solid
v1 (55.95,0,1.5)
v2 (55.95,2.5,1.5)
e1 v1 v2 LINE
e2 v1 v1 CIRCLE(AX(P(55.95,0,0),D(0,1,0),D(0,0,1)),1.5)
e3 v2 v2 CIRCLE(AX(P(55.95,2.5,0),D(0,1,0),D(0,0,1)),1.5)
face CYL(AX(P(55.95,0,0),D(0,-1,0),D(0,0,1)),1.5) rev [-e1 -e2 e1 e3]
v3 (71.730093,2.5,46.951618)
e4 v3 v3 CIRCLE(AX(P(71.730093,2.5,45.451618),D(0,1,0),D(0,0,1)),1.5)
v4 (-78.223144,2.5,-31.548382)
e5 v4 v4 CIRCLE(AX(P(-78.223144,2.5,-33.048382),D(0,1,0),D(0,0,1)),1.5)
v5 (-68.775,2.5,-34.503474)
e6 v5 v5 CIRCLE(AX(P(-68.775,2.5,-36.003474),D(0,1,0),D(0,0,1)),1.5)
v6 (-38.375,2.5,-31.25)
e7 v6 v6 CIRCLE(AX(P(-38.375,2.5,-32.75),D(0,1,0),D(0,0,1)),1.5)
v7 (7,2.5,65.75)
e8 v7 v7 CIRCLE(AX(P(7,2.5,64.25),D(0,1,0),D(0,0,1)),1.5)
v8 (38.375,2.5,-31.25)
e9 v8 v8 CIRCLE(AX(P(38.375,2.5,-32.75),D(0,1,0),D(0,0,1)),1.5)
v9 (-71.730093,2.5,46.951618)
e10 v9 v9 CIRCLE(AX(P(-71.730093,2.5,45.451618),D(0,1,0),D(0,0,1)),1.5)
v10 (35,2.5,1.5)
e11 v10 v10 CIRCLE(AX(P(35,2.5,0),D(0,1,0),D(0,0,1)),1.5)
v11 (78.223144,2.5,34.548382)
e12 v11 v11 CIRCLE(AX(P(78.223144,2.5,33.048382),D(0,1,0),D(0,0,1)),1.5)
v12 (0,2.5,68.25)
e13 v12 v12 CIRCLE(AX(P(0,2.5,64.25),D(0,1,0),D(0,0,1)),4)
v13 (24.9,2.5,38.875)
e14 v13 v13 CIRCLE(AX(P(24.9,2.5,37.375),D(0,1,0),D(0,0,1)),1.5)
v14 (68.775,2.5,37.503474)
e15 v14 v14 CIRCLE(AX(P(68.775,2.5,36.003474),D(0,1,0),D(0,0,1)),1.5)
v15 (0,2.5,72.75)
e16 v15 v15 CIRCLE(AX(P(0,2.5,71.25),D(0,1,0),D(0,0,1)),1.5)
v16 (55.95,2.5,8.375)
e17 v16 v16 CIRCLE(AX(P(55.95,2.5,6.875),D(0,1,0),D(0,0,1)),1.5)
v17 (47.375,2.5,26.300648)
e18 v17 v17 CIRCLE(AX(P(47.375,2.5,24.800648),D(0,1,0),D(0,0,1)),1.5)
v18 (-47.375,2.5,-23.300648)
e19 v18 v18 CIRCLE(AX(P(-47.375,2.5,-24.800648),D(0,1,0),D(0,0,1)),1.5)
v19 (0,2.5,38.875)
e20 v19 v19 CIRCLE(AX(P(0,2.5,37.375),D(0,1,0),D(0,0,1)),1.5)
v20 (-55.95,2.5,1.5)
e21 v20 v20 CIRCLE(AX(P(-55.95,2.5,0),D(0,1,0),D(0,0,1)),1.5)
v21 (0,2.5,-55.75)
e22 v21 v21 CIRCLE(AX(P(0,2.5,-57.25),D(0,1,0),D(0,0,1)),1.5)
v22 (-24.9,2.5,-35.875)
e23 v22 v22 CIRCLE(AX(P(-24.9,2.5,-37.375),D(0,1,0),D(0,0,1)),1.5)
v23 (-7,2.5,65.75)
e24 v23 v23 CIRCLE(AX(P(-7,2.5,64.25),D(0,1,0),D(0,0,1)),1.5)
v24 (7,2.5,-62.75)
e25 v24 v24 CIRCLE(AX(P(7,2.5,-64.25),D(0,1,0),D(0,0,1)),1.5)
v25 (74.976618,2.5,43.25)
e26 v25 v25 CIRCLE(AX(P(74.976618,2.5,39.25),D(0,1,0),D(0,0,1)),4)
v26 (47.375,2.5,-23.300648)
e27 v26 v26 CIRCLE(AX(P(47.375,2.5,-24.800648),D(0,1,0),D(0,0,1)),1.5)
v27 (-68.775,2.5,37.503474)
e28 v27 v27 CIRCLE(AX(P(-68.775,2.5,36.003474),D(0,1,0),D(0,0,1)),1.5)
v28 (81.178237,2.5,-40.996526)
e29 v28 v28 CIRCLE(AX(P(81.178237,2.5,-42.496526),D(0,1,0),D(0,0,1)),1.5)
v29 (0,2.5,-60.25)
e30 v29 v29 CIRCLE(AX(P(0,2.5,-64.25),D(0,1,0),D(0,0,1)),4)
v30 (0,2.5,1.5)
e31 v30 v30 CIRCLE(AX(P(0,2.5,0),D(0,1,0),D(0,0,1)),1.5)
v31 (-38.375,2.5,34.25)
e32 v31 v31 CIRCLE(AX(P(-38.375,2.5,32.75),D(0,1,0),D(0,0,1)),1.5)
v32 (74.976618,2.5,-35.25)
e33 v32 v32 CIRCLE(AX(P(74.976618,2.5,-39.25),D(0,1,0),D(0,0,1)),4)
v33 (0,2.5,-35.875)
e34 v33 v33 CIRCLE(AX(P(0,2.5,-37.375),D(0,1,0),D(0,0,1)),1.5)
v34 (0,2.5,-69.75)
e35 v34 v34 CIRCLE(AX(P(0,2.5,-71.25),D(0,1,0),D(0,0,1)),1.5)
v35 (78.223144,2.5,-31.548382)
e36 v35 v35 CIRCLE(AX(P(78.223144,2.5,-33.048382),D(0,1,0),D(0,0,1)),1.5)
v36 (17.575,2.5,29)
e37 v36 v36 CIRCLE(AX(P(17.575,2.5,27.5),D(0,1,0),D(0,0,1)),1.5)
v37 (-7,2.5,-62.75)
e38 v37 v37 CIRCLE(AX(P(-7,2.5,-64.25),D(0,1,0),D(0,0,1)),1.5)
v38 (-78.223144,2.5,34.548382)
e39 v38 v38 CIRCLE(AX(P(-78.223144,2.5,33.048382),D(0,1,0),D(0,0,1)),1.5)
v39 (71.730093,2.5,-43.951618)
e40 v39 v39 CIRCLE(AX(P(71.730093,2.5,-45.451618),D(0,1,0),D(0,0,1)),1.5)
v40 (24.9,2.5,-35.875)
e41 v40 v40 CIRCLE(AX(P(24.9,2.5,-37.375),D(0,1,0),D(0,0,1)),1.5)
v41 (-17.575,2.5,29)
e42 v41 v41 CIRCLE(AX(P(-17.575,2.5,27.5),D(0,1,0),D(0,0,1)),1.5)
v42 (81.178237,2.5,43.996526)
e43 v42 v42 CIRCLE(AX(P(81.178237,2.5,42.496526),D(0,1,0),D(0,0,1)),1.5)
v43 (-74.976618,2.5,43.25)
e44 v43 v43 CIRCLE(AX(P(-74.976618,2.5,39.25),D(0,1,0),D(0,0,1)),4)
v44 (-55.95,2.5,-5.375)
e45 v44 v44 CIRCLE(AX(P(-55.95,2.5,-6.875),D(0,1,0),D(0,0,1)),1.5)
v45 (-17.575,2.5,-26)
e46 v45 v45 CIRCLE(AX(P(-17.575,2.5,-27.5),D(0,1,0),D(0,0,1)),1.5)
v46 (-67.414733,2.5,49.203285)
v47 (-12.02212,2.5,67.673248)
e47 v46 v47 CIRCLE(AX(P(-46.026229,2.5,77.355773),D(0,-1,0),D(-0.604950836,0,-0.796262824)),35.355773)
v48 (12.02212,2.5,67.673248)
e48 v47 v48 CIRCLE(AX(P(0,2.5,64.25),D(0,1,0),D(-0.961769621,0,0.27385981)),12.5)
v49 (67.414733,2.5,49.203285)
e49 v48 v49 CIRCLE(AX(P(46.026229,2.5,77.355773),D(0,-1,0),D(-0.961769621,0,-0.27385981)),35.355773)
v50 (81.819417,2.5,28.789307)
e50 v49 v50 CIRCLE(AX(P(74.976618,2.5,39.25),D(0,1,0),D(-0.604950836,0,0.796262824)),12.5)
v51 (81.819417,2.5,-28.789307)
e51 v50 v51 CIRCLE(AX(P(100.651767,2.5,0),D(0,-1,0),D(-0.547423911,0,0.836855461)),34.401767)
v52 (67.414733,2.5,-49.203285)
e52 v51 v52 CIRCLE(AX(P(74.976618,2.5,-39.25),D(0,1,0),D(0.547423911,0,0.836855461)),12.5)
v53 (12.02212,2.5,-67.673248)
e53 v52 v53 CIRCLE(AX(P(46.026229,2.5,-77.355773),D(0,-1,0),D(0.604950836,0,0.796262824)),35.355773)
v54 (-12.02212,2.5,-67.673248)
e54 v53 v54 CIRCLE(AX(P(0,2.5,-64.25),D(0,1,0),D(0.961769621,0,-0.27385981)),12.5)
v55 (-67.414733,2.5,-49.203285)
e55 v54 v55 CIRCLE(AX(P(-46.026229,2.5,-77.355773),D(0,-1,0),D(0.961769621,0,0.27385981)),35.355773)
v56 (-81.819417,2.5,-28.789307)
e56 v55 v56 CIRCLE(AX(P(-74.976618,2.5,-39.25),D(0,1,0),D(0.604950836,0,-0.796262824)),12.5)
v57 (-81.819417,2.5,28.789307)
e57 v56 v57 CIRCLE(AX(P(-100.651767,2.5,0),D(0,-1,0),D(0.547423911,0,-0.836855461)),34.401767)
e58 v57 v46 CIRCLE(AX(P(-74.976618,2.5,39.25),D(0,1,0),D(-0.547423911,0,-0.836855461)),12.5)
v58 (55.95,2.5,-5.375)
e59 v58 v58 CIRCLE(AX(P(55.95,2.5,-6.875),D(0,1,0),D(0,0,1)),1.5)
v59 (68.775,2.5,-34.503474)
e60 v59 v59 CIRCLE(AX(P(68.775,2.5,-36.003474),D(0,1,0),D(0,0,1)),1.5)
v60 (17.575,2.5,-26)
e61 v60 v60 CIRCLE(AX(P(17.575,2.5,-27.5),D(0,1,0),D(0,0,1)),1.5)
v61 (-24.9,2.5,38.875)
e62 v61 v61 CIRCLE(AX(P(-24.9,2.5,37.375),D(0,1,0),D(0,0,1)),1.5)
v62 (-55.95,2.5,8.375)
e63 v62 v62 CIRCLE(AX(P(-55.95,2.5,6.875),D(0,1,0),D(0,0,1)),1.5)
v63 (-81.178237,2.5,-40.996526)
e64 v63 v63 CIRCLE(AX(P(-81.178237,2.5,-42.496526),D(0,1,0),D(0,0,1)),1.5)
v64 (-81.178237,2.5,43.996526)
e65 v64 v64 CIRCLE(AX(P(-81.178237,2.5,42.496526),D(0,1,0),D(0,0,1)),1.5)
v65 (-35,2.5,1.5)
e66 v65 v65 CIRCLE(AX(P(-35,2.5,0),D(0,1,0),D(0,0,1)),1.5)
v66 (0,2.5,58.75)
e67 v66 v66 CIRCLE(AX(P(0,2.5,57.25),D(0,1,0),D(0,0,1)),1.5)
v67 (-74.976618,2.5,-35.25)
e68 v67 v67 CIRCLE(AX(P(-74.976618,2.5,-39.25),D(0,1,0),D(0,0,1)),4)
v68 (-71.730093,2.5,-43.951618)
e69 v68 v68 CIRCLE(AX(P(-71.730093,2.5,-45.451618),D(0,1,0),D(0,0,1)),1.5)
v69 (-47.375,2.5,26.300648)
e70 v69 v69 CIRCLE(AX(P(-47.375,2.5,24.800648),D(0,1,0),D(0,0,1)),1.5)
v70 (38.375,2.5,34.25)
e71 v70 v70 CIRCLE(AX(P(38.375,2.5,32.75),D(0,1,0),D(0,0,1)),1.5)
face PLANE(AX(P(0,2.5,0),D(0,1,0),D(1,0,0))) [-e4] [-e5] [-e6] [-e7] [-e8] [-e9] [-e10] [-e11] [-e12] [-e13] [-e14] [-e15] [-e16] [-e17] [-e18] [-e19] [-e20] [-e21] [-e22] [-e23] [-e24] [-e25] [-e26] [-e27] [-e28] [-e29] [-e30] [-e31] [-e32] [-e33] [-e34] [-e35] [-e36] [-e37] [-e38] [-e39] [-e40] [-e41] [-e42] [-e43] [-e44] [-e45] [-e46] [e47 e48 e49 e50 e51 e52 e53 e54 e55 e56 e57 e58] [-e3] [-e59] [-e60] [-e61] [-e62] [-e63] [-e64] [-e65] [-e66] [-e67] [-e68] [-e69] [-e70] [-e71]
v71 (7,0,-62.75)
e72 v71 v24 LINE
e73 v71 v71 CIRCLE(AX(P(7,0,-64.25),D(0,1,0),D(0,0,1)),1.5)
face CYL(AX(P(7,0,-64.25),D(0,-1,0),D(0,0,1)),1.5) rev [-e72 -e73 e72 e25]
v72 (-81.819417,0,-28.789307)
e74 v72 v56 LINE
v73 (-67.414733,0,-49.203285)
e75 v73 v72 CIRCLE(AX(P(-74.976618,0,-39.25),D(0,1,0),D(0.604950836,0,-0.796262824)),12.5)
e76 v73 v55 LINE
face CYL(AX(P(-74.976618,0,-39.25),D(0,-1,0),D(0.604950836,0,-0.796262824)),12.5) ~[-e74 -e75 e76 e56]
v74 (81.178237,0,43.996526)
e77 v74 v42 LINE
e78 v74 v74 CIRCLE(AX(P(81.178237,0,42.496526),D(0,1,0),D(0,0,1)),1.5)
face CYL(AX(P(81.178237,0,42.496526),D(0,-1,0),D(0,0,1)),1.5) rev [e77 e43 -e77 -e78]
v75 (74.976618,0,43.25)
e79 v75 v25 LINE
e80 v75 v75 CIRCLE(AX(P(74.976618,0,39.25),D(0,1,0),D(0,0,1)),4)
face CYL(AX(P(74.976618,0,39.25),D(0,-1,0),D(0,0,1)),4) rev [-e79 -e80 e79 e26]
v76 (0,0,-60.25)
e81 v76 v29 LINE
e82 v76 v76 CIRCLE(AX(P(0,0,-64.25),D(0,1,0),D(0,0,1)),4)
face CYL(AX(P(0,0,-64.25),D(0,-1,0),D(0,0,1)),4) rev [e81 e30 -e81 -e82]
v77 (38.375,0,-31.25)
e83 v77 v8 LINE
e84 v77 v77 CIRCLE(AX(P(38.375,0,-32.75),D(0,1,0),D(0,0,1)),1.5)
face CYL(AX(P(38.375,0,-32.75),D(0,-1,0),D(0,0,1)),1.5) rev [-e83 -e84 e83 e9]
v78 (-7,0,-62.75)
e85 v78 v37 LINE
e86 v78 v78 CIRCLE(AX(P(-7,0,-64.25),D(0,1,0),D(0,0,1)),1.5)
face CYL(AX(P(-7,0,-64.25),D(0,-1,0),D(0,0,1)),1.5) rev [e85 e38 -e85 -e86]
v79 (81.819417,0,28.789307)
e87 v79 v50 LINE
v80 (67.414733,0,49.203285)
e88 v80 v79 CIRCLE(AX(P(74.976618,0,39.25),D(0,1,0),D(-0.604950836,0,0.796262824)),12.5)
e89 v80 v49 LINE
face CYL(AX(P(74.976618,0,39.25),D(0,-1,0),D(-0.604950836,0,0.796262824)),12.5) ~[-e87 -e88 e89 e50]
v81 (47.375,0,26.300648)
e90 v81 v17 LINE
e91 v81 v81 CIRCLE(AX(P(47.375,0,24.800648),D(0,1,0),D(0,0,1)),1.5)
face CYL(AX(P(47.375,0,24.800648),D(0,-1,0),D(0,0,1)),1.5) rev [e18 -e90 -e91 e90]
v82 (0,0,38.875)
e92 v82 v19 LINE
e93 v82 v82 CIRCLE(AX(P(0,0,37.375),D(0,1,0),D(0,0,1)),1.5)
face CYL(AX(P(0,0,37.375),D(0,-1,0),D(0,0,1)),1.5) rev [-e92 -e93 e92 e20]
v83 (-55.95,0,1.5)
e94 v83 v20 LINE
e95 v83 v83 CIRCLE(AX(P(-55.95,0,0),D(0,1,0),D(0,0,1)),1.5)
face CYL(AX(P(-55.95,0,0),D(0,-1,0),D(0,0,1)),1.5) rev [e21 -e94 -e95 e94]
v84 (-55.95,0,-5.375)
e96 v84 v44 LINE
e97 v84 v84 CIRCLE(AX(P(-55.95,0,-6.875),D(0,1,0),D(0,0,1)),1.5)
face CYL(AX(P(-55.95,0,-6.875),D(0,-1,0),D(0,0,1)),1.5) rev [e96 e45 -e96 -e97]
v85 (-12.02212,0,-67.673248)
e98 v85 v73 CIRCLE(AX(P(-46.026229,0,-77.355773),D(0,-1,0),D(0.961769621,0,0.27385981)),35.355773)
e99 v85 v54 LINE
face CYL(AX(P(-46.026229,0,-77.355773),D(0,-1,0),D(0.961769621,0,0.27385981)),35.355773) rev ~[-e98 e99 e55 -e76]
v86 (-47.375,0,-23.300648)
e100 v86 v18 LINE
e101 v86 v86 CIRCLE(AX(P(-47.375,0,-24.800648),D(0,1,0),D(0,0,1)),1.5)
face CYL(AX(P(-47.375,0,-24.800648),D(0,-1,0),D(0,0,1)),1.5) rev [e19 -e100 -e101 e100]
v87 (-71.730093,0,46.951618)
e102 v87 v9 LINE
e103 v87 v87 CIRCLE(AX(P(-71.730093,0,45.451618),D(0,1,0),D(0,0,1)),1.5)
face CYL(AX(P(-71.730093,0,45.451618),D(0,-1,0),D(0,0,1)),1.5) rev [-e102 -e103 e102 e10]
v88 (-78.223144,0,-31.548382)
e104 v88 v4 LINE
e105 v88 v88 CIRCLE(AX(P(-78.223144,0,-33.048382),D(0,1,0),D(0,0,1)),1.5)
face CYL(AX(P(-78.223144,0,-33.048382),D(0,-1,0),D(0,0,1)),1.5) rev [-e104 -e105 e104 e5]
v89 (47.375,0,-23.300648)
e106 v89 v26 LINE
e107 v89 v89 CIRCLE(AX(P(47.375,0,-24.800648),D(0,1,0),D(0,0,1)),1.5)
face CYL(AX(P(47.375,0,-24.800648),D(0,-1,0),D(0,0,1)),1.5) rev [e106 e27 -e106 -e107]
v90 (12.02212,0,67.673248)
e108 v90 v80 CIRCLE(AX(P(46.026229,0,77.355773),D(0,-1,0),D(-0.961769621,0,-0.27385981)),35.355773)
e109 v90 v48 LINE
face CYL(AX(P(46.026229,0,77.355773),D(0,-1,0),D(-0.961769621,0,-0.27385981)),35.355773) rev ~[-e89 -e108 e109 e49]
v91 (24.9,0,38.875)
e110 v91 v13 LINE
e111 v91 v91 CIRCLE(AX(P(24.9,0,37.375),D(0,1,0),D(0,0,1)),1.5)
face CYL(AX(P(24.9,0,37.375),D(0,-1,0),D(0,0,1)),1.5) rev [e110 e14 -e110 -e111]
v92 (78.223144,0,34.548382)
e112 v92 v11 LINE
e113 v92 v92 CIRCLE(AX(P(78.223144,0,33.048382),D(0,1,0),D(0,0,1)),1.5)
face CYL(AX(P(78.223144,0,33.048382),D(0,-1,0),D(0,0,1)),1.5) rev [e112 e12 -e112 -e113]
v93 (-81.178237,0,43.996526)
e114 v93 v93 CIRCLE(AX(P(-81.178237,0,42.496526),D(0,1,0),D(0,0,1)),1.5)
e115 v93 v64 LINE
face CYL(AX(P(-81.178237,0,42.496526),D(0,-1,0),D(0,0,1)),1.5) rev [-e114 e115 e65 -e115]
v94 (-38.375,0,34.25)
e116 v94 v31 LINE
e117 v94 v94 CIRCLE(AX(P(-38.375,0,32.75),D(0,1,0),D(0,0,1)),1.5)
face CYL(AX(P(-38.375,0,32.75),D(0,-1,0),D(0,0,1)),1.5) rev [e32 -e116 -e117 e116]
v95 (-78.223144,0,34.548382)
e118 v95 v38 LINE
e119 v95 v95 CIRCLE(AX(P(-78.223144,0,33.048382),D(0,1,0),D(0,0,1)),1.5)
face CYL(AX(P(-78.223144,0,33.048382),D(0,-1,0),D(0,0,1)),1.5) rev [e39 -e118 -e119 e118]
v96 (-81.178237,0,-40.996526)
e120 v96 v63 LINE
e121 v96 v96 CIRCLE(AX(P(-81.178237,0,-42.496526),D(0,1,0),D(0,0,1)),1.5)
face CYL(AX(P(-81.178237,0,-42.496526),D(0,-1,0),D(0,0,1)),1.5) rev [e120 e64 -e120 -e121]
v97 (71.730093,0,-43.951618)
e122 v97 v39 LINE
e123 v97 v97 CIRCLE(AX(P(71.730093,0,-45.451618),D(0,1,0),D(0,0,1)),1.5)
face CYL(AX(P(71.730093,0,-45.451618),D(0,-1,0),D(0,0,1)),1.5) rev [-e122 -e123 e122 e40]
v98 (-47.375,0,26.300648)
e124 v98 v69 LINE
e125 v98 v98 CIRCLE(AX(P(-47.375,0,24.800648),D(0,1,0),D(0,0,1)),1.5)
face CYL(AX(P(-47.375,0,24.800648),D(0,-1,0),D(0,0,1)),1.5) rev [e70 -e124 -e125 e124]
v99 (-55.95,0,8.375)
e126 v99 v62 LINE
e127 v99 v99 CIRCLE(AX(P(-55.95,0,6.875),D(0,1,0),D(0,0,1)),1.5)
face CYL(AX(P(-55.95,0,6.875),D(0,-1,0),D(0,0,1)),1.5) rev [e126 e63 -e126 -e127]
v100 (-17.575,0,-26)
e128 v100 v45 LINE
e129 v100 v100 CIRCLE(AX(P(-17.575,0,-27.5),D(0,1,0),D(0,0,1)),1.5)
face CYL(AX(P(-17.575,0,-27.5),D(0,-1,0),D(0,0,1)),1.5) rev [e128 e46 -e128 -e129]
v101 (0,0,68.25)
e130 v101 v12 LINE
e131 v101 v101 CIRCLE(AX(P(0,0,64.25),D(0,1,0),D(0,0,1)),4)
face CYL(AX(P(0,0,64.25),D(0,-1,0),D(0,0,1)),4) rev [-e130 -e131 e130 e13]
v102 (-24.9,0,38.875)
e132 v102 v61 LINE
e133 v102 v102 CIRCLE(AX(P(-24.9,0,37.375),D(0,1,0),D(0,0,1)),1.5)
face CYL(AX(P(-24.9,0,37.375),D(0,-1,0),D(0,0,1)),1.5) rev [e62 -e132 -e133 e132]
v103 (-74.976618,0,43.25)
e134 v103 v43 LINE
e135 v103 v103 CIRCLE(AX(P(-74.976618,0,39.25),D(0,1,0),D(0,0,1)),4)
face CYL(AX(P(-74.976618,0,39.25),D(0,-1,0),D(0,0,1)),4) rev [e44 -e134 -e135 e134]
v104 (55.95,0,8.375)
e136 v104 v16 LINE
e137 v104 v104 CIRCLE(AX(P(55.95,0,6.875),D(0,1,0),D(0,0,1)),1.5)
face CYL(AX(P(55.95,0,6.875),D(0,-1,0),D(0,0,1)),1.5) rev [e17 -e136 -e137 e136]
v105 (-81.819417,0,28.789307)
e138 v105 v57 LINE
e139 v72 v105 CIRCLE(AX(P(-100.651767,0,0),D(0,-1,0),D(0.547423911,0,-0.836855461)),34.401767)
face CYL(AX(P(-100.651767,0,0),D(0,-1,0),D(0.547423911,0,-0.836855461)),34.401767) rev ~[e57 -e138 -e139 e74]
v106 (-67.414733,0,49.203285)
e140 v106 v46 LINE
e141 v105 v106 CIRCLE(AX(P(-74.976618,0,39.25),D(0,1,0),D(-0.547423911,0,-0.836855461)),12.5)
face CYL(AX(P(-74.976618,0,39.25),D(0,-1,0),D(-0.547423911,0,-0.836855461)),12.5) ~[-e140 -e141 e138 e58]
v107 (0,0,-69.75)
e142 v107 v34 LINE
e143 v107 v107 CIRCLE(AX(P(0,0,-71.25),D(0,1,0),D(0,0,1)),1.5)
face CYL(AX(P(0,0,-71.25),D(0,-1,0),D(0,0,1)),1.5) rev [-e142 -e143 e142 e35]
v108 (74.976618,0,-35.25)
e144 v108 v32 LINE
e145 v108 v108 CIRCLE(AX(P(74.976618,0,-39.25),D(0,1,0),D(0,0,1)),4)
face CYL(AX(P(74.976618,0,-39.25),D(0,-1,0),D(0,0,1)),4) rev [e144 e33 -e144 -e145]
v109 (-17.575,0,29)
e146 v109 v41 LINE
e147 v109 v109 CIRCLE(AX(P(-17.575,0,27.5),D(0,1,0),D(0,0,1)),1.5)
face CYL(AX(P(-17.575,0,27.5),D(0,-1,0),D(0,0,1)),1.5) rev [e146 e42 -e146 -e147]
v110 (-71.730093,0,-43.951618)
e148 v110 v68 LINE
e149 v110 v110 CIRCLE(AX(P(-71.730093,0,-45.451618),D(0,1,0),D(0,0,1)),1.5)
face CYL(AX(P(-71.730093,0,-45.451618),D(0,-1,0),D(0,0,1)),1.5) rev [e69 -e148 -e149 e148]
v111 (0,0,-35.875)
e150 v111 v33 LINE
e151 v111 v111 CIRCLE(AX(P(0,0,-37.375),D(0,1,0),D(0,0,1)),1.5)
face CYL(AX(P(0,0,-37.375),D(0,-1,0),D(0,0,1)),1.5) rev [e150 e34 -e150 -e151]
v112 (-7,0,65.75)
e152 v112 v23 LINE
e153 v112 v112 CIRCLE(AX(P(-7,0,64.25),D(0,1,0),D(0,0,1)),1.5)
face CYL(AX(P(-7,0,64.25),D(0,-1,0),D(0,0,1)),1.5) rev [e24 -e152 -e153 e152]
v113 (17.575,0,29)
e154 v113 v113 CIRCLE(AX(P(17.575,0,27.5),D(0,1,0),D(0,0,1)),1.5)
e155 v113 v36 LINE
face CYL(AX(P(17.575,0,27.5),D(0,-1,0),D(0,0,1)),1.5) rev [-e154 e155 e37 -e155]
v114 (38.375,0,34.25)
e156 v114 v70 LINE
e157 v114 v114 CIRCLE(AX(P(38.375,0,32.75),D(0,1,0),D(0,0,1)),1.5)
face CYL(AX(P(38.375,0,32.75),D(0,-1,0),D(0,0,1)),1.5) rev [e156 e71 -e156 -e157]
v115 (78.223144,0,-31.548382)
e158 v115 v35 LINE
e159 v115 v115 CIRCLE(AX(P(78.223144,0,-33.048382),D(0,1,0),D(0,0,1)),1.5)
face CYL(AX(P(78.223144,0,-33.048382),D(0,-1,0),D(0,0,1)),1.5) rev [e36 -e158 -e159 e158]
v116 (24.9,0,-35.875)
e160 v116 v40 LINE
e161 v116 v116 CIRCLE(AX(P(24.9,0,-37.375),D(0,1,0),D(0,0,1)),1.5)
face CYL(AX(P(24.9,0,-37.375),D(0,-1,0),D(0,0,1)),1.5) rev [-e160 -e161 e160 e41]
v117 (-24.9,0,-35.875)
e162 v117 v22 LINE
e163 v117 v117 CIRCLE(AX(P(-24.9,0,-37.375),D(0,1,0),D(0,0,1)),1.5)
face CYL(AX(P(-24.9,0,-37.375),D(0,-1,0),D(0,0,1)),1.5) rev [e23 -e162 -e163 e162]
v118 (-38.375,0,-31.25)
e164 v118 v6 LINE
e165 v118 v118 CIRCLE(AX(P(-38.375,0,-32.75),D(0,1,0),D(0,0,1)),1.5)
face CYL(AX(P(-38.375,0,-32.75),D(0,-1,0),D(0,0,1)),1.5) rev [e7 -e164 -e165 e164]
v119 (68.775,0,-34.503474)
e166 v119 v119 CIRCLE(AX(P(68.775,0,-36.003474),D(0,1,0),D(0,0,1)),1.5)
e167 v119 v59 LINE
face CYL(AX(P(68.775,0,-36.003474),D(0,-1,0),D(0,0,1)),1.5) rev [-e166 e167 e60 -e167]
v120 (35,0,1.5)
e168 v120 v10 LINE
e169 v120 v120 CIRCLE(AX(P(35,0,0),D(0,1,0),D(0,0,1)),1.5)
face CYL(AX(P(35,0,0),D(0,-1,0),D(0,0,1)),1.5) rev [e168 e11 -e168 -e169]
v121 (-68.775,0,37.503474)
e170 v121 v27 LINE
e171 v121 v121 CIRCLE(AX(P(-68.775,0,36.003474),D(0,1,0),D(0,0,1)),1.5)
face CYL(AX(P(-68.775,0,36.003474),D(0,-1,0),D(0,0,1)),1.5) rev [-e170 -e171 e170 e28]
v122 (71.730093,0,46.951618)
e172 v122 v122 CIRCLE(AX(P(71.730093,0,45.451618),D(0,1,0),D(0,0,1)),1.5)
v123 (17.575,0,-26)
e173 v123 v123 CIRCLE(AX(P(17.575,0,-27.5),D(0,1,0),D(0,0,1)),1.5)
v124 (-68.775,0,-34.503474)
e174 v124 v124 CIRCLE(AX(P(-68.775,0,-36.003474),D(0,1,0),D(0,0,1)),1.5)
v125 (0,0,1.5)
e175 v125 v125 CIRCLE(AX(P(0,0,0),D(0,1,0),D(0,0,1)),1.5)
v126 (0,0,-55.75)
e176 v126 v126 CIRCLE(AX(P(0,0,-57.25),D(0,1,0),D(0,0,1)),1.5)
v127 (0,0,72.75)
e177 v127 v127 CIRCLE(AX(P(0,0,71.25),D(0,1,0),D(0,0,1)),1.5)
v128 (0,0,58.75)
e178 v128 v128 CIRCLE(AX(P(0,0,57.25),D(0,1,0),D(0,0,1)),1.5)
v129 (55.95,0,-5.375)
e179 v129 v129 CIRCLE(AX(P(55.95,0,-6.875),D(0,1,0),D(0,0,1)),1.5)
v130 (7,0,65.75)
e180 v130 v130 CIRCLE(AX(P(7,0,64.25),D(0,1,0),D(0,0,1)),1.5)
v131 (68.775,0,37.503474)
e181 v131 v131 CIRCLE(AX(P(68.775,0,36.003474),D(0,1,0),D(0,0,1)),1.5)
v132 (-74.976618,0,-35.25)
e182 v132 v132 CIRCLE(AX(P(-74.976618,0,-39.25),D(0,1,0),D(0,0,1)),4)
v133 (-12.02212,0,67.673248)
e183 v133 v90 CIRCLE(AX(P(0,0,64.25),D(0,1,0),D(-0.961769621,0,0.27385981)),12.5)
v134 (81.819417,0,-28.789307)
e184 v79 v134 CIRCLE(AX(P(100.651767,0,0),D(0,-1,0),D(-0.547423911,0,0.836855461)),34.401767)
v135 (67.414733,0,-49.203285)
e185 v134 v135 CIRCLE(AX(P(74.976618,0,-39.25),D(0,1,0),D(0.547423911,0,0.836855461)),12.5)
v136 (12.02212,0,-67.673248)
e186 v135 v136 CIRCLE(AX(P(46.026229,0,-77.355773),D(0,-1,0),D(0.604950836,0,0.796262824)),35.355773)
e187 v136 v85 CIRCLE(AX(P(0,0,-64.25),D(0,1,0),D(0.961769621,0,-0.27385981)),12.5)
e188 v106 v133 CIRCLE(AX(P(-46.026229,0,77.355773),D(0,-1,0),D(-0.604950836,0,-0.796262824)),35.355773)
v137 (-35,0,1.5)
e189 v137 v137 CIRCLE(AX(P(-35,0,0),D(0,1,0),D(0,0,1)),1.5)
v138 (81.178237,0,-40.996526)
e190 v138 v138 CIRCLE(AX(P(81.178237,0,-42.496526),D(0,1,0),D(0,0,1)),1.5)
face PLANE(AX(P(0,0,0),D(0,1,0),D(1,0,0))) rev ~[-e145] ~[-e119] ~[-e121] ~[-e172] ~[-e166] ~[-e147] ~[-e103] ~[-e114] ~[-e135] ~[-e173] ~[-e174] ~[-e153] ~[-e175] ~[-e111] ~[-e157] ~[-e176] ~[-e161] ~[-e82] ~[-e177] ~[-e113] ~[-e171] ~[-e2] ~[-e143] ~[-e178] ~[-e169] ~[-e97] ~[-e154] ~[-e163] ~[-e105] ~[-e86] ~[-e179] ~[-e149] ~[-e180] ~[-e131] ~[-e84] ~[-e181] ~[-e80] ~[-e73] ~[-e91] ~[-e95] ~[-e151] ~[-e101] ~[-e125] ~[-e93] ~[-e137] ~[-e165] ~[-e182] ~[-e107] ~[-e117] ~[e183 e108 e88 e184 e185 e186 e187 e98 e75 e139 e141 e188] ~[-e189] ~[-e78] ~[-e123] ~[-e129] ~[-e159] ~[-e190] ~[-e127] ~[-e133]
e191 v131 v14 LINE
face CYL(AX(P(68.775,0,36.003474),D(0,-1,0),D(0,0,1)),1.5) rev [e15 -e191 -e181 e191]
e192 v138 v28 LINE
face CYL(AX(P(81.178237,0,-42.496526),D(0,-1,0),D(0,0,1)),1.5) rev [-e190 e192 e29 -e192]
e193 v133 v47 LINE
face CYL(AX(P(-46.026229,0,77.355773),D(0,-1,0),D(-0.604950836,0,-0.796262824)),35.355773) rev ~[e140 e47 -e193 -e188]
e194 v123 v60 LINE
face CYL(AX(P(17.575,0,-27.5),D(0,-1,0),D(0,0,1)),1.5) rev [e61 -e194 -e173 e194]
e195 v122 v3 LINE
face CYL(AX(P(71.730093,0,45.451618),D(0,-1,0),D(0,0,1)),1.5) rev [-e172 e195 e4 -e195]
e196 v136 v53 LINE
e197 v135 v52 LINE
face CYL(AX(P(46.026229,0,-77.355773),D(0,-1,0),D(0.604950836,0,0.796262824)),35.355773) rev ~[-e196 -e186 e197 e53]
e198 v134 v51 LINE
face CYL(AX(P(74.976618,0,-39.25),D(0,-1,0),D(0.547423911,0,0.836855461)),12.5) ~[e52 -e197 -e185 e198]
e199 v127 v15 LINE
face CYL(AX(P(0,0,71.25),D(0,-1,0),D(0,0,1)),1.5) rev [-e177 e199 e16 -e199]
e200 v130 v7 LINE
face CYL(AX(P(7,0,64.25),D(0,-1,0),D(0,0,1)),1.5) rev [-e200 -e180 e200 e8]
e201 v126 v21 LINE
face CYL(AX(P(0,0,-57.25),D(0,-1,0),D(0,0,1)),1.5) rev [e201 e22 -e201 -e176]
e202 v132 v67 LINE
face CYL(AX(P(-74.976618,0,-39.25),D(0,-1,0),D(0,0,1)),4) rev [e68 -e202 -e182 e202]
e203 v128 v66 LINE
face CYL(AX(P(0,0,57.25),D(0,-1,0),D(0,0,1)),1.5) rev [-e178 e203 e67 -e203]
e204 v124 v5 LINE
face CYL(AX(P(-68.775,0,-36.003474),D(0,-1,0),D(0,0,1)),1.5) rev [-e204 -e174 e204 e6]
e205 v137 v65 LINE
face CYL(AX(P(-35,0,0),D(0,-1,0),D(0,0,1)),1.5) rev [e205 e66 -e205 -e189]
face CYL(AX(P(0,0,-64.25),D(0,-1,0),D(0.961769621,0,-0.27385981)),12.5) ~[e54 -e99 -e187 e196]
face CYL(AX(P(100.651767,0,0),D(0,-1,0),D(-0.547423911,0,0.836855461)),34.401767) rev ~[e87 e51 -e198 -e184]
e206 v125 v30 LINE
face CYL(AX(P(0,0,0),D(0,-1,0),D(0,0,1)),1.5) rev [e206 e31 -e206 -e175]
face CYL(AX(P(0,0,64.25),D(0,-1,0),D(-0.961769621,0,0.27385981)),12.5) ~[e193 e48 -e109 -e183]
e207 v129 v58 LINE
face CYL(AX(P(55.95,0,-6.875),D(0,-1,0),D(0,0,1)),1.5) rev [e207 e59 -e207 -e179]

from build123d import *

# Parameters (mm, degrees)
SKETCH1_R           = 4
SKETCH1_R_2         = 1.5
BOSS_EXTRUDE1_DEPTH = 2.5


with BuildPart() as part:
    # Sketch1 → Boss-Extrude1 (new body)
    with BuildSketch(Plane(origin=(0, 0, 0), x_dir=(1, 0, 0), z_dir=(0, 1, 0))):
        with BuildLine():
            ThreePointArc((12.022120265, 67.673247628), (0, 76.75), (-12.022120265, 67.673247628))
            ThreePointArc((-12.022120265, 67.673247628), (-34.842613641, 43.81538777), (-67.414732932, 49.203285306))
            ThreePointArc((-67.414732932, 49.203285306), (-85.189938198, 46.45680917), (-81.819417269, 28.789306741))
            ThreePointArc((-81.819417269, 28.789306741), (-66.25, 0), (-81.819417269, -28.789306741))
            ThreePointArc((-81.819417269, -28.789306741), (-85.189938198, -46.45680917), (-67.414732932, -49.203285306))
            ThreePointArc((-67.414732932, -49.203285306), (-34.842613641, -43.81538777), (-12.022120265, -67.673247628))
            ThreePointArc((-12.022120265, -67.673247628), (0, -76.75), (12.022120265, -67.673247628))
            ThreePointArc((12.022120265, -67.673247628), (34.842613641, -43.81538777), (67.414732932, -49.203285306))
            ThreePointArc((67.414732932, -49.203285306), (85.189938198, -46.45680917), (81.819417269, -28.789306741))
            ThreePointArc((81.819417269, -28.789306741), (66.25, 0), (81.819417269, 28.789306741))
            ThreePointArc((81.819417269, 28.789306741), (85.189938198, 46.45680917), (67.414732932, 49.203285306))
            ThreePointArc((67.414732932, 49.203285306), (34.842613641, 43.81538777), (12.022120265, 67.673247628))
        make_face()
        with Locations(Location((0, 64.25, 0), (0, 0, 270))):
            Circle(SKETCH1_R, mode=Mode.SUBTRACT)
        with Locations(Location((-7, 64.25, 0), (0, 0, 270))):
            Circle(SKETCH1_R_2, mode=Mode.SUBTRACT)
        with Locations(Location((0, 57.25, 0), (0, 0, 270))):
            Circle(SKETCH1_R_2, mode=Mode.SUBTRACT)
        with Locations(Location((7, 64.25, 0), (0, 0, 270))):
            Circle(SKETCH1_R_2, mode=Mode.SUBTRACT)
        with Locations(Location((0, 71.25, 0), (0, 0, 270))):
            Circle(SKETCH1_R_2, mode=Mode.SUBTRACT)
        with Locations(Location((0, 37.375, 0), (0, 0, 270))):
            Circle(SKETCH1_R_2, mode=Mode.SUBTRACT)
        with Locations(Location((17.575, 27.5, 0), (0, 0, 270))):
            Circle(SKETCH1_R_2, mode=Mode.SUBTRACT)
        with Locations(Location((24.9, 37.375, 0), (0, 0, 270))):
            Circle(SKETCH1_R_2, mode=Mode.SUBTRACT)
        with Locations(Location((38.375, 32.75, 0), (0, 0, 270))):
            Circle(SKETCH1_R_2, mode=Mode.SUBTRACT)
        with Locations(Location((47.375, 24.800648389, 0), (0, 0, 270))):
            Circle(SKETCH1_R_2, mode=Mode.SUBTRACT)
        with Locations(Location((74.976618386, 39.25, 0), (0, 0, 270))):
            Circle(SKETCH1_R, mode=Mode.SUBTRACT)
        with Locations(Location((68.775, 36.003474258, 0), (0, 0, 270))):
            Circle(SKETCH1_R_2, mode=Mode.SUBTRACT)
        with Locations(Location((71.730092644, 45.451618386, 0), (0, 0, 270))):
            Circle(SKETCH1_R_2, mode=Mode.SUBTRACT)
        with Locations(Location((81.178236772, 42.496525742, 0), (0, 0, 270))):
            Circle(SKETCH1_R_2, mode=Mode.SUBTRACT)
        with Locations(Location((78.223144128, 33.048381614, 0), (0, 0, 270))):
            Circle(SKETCH1_R_2, mode=Mode.SUBTRACT)
        with Locations(Location((35, 0, 0), (0, 0, 270))):
            Circle(SKETCH1_R_2, mode=Mode.SUBTRACT)
        with Locations(Location((-35, 0, 0), (0, 0, 270))):
            Circle(SKETCH1_R_2, mode=Mode.SUBTRACT)
        with Locations(Location((-47.375, 24.800648389, 0), (0, 0, 270))):
            Circle(SKETCH1_R_2, mode=Mode.SUBTRACT)
        with Locations(Location((-38.375, 32.75, 0), (0, 0, 270))):
            Circle(SKETCH1_R_2, mode=Mode.SUBTRACT)
        with Locations(Location((-17.575, 27.5, 0), (0, 0, 270))):
            Circle(SKETCH1_R_2, mode=Mode.SUBTRACT)
        with Locations(Location((-24.9, 37.375, 0), (0, 0, 270))):
            Circle(SKETCH1_R_2, mode=Mode.SUBTRACT)
        with Locations(Location((-78.223144128, 33.048381614, 0), (0, 0, 270))):
            Circle(SKETCH1_R_2, mode=Mode.SUBTRACT)
        with Locations(Location((-81.178236772, 42.496525742, 0), (0, 0, 270))):
            Circle(SKETCH1_R_2, mode=Mode.SUBTRACT)
        with Locations(Location((-71.730092644, 45.451618386, 0), (0, 0, 270))):
            Circle(SKETCH1_R_2, mode=Mode.SUBTRACT)
        with Locations(Location((-68.775, 36.003474258, 0), (0, 0, 270))):
            Circle(SKETCH1_R_2, mode=Mode.SUBTRACT)
        with Locations(Location((-74.976618386, 39.25, 0), (0, 0, 270))):
            Circle(SKETCH1_R, mode=Mode.SUBTRACT)
        with Locations(Location((-24.9, -37.375, 0), (0, 0, 270))):
            Circle(SKETCH1_R_2, mode=Mode.SUBTRACT)
        with Locations(Location((-17.575, -27.5, 0), (0, 0, 270))):
            Circle(SKETCH1_R_2, mode=Mode.SUBTRACT)
        with Locations(Location((-38.375, -32.75, 0), (0, 0, 270))):
            Circle(SKETCH1_R_2, mode=Mode.SUBTRACT)
        with Locations(Location((-47.375, -24.800648389, 0), (0, 0, 270))):
            Circle(SKETCH1_R_2, mode=Mode.SUBTRACT)
        with Locations(Location((47.375, -24.800648389, 0), (0, 0, 270))):
            Circle(SKETCH1_R_2, mode=Mode.SUBTRACT)
        with Locations(Location((38.375, -32.75, 0), (0, 0, 270))):
            Circle(SKETCH1_R_2, mode=Mode.SUBTRACT)
        with Locations(Location((24.9, -37.375, 0), (0, 0, 270))):
            Circle(SKETCH1_R_2, mode=Mode.SUBTRACT)
        with Locations(Location((17.575, -27.5, 0), (0, 0, 270))):
            Circle(SKETCH1_R_2, mode=Mode.SUBTRACT)
        with Locations(Location((0, -37.375, 0), (0, 0, 270))):
            Circle(SKETCH1_R_2, mode=Mode.SUBTRACT)
        with Locations(Location((0, -71.25, 0), (0, 0, 270))):
            Circle(SKETCH1_R_2, mode=Mode.SUBTRACT)
        with Locations(Location((7, -64.25, 0), (0, 0, 270))):
            Circle(SKETCH1_R_2, mode=Mode.SUBTRACT)
        with Locations(Location((0, -57.25, 0), (0, 0, 270))):
            Circle(SKETCH1_R_2, mode=Mode.SUBTRACT)
        with Locations(Location((-7, -64.25, 0), (0, 0, 270))):
            Circle(SKETCH1_R_2, mode=Mode.SUBTRACT)
        with Locations(Location((0, -64.25, 0), (0, 0, 270))):
            Circle(SKETCH1_R, mode=Mode.SUBTRACT)
        with Locations(Location((78.223144128, -33.048381614, 0), (0, 0, 270))):
            Circle(SKETCH1_R_2, mode=Mode.SUBTRACT)
        with Locations(Location((81.178236772, -42.496525742, 0), (0, 0, 270))):
            Circle(SKETCH1_R_2, mode=Mode.SUBTRACT)
        with Locations(Location((71.730092644, -45.451618386, 0), (0, 0, 270))):
            Circle(SKETCH1_R_2, mode=Mode.SUBTRACT)
        with Locations(Location((68.775, -36.003474258, 0), (0, 0, 270))):
            Circle(SKETCH1_R_2, mode=Mode.SUBTRACT)
        with Locations(Location((74.976618386, -39.25, 0), (0, 0, 270))):
            Circle(SKETCH1_R, mode=Mode.SUBTRACT)
        with Locations(Location((-74.976618386, -39.25, 0), (0, 0, 270))):
            Circle(SKETCH1_R, mode=Mode.SUBTRACT)
        with Locations(Location((-68.775, -36.003474258, 0), (0, 0, 270))):
            Circle(SKETCH1_R_2, mode=Mode.SUBTRACT)
        with Locations(Location((-71.730092644, -45.451618386, 0), (0, 0, 270))):
            Circle(SKETCH1_R_2, mode=Mode.SUBTRACT)
        with Locations(Location((-81.178236772, -42.496525742, 0), (0, 0, 270))):
            Circle(SKETCH1_R_2, mode=Mode.SUBTRACT)
        with Locations(Location((-78.223144128, -33.048381614, 0), (0, 0, 270))):
            Circle(SKETCH1_R_2, mode=Mode.SUBTRACT)
        with Locations(Location((-55.95, 0, 0), (0, 0, 270))):
            Circle(SKETCH1_R_2, mode=Mode.SUBTRACT)
        with Locations(Location((-55.95, 6.875, 0), (0, 0, 270))):
            Circle(SKETCH1_R_2, mode=Mode.SUBTRACT)
        with Locations(Location((-55.95, -6.875, 0), (0, 0, 270))):
            Circle(SKETCH1_R_2, mode=Mode.SUBTRACT)
        with Locations(Location((55.95, 6.875, 0), (0, 0, 270))):
            Circle(SKETCH1_R_2, mode=Mode.SUBTRACT)
        with Locations(Location((55.95, 0, 0), (0, 0, 270))):
            Circle(SKETCH1_R_2, mode=Mode.SUBTRACT)
        with Locations(Location((55.95, -6.875, 0), (0, 0, 270))):
            Circle(SKETCH1_R_2, mode=Mode.SUBTRACT)
        with Locations(Location((0, 0, 0), (0, 0, 270))):
            Circle(SKETCH1_R_2, mode=Mode.SUBTRACT)
    extrude(amount=BOSS_EXTRUDE1_DEPTH)


solid = part.part
